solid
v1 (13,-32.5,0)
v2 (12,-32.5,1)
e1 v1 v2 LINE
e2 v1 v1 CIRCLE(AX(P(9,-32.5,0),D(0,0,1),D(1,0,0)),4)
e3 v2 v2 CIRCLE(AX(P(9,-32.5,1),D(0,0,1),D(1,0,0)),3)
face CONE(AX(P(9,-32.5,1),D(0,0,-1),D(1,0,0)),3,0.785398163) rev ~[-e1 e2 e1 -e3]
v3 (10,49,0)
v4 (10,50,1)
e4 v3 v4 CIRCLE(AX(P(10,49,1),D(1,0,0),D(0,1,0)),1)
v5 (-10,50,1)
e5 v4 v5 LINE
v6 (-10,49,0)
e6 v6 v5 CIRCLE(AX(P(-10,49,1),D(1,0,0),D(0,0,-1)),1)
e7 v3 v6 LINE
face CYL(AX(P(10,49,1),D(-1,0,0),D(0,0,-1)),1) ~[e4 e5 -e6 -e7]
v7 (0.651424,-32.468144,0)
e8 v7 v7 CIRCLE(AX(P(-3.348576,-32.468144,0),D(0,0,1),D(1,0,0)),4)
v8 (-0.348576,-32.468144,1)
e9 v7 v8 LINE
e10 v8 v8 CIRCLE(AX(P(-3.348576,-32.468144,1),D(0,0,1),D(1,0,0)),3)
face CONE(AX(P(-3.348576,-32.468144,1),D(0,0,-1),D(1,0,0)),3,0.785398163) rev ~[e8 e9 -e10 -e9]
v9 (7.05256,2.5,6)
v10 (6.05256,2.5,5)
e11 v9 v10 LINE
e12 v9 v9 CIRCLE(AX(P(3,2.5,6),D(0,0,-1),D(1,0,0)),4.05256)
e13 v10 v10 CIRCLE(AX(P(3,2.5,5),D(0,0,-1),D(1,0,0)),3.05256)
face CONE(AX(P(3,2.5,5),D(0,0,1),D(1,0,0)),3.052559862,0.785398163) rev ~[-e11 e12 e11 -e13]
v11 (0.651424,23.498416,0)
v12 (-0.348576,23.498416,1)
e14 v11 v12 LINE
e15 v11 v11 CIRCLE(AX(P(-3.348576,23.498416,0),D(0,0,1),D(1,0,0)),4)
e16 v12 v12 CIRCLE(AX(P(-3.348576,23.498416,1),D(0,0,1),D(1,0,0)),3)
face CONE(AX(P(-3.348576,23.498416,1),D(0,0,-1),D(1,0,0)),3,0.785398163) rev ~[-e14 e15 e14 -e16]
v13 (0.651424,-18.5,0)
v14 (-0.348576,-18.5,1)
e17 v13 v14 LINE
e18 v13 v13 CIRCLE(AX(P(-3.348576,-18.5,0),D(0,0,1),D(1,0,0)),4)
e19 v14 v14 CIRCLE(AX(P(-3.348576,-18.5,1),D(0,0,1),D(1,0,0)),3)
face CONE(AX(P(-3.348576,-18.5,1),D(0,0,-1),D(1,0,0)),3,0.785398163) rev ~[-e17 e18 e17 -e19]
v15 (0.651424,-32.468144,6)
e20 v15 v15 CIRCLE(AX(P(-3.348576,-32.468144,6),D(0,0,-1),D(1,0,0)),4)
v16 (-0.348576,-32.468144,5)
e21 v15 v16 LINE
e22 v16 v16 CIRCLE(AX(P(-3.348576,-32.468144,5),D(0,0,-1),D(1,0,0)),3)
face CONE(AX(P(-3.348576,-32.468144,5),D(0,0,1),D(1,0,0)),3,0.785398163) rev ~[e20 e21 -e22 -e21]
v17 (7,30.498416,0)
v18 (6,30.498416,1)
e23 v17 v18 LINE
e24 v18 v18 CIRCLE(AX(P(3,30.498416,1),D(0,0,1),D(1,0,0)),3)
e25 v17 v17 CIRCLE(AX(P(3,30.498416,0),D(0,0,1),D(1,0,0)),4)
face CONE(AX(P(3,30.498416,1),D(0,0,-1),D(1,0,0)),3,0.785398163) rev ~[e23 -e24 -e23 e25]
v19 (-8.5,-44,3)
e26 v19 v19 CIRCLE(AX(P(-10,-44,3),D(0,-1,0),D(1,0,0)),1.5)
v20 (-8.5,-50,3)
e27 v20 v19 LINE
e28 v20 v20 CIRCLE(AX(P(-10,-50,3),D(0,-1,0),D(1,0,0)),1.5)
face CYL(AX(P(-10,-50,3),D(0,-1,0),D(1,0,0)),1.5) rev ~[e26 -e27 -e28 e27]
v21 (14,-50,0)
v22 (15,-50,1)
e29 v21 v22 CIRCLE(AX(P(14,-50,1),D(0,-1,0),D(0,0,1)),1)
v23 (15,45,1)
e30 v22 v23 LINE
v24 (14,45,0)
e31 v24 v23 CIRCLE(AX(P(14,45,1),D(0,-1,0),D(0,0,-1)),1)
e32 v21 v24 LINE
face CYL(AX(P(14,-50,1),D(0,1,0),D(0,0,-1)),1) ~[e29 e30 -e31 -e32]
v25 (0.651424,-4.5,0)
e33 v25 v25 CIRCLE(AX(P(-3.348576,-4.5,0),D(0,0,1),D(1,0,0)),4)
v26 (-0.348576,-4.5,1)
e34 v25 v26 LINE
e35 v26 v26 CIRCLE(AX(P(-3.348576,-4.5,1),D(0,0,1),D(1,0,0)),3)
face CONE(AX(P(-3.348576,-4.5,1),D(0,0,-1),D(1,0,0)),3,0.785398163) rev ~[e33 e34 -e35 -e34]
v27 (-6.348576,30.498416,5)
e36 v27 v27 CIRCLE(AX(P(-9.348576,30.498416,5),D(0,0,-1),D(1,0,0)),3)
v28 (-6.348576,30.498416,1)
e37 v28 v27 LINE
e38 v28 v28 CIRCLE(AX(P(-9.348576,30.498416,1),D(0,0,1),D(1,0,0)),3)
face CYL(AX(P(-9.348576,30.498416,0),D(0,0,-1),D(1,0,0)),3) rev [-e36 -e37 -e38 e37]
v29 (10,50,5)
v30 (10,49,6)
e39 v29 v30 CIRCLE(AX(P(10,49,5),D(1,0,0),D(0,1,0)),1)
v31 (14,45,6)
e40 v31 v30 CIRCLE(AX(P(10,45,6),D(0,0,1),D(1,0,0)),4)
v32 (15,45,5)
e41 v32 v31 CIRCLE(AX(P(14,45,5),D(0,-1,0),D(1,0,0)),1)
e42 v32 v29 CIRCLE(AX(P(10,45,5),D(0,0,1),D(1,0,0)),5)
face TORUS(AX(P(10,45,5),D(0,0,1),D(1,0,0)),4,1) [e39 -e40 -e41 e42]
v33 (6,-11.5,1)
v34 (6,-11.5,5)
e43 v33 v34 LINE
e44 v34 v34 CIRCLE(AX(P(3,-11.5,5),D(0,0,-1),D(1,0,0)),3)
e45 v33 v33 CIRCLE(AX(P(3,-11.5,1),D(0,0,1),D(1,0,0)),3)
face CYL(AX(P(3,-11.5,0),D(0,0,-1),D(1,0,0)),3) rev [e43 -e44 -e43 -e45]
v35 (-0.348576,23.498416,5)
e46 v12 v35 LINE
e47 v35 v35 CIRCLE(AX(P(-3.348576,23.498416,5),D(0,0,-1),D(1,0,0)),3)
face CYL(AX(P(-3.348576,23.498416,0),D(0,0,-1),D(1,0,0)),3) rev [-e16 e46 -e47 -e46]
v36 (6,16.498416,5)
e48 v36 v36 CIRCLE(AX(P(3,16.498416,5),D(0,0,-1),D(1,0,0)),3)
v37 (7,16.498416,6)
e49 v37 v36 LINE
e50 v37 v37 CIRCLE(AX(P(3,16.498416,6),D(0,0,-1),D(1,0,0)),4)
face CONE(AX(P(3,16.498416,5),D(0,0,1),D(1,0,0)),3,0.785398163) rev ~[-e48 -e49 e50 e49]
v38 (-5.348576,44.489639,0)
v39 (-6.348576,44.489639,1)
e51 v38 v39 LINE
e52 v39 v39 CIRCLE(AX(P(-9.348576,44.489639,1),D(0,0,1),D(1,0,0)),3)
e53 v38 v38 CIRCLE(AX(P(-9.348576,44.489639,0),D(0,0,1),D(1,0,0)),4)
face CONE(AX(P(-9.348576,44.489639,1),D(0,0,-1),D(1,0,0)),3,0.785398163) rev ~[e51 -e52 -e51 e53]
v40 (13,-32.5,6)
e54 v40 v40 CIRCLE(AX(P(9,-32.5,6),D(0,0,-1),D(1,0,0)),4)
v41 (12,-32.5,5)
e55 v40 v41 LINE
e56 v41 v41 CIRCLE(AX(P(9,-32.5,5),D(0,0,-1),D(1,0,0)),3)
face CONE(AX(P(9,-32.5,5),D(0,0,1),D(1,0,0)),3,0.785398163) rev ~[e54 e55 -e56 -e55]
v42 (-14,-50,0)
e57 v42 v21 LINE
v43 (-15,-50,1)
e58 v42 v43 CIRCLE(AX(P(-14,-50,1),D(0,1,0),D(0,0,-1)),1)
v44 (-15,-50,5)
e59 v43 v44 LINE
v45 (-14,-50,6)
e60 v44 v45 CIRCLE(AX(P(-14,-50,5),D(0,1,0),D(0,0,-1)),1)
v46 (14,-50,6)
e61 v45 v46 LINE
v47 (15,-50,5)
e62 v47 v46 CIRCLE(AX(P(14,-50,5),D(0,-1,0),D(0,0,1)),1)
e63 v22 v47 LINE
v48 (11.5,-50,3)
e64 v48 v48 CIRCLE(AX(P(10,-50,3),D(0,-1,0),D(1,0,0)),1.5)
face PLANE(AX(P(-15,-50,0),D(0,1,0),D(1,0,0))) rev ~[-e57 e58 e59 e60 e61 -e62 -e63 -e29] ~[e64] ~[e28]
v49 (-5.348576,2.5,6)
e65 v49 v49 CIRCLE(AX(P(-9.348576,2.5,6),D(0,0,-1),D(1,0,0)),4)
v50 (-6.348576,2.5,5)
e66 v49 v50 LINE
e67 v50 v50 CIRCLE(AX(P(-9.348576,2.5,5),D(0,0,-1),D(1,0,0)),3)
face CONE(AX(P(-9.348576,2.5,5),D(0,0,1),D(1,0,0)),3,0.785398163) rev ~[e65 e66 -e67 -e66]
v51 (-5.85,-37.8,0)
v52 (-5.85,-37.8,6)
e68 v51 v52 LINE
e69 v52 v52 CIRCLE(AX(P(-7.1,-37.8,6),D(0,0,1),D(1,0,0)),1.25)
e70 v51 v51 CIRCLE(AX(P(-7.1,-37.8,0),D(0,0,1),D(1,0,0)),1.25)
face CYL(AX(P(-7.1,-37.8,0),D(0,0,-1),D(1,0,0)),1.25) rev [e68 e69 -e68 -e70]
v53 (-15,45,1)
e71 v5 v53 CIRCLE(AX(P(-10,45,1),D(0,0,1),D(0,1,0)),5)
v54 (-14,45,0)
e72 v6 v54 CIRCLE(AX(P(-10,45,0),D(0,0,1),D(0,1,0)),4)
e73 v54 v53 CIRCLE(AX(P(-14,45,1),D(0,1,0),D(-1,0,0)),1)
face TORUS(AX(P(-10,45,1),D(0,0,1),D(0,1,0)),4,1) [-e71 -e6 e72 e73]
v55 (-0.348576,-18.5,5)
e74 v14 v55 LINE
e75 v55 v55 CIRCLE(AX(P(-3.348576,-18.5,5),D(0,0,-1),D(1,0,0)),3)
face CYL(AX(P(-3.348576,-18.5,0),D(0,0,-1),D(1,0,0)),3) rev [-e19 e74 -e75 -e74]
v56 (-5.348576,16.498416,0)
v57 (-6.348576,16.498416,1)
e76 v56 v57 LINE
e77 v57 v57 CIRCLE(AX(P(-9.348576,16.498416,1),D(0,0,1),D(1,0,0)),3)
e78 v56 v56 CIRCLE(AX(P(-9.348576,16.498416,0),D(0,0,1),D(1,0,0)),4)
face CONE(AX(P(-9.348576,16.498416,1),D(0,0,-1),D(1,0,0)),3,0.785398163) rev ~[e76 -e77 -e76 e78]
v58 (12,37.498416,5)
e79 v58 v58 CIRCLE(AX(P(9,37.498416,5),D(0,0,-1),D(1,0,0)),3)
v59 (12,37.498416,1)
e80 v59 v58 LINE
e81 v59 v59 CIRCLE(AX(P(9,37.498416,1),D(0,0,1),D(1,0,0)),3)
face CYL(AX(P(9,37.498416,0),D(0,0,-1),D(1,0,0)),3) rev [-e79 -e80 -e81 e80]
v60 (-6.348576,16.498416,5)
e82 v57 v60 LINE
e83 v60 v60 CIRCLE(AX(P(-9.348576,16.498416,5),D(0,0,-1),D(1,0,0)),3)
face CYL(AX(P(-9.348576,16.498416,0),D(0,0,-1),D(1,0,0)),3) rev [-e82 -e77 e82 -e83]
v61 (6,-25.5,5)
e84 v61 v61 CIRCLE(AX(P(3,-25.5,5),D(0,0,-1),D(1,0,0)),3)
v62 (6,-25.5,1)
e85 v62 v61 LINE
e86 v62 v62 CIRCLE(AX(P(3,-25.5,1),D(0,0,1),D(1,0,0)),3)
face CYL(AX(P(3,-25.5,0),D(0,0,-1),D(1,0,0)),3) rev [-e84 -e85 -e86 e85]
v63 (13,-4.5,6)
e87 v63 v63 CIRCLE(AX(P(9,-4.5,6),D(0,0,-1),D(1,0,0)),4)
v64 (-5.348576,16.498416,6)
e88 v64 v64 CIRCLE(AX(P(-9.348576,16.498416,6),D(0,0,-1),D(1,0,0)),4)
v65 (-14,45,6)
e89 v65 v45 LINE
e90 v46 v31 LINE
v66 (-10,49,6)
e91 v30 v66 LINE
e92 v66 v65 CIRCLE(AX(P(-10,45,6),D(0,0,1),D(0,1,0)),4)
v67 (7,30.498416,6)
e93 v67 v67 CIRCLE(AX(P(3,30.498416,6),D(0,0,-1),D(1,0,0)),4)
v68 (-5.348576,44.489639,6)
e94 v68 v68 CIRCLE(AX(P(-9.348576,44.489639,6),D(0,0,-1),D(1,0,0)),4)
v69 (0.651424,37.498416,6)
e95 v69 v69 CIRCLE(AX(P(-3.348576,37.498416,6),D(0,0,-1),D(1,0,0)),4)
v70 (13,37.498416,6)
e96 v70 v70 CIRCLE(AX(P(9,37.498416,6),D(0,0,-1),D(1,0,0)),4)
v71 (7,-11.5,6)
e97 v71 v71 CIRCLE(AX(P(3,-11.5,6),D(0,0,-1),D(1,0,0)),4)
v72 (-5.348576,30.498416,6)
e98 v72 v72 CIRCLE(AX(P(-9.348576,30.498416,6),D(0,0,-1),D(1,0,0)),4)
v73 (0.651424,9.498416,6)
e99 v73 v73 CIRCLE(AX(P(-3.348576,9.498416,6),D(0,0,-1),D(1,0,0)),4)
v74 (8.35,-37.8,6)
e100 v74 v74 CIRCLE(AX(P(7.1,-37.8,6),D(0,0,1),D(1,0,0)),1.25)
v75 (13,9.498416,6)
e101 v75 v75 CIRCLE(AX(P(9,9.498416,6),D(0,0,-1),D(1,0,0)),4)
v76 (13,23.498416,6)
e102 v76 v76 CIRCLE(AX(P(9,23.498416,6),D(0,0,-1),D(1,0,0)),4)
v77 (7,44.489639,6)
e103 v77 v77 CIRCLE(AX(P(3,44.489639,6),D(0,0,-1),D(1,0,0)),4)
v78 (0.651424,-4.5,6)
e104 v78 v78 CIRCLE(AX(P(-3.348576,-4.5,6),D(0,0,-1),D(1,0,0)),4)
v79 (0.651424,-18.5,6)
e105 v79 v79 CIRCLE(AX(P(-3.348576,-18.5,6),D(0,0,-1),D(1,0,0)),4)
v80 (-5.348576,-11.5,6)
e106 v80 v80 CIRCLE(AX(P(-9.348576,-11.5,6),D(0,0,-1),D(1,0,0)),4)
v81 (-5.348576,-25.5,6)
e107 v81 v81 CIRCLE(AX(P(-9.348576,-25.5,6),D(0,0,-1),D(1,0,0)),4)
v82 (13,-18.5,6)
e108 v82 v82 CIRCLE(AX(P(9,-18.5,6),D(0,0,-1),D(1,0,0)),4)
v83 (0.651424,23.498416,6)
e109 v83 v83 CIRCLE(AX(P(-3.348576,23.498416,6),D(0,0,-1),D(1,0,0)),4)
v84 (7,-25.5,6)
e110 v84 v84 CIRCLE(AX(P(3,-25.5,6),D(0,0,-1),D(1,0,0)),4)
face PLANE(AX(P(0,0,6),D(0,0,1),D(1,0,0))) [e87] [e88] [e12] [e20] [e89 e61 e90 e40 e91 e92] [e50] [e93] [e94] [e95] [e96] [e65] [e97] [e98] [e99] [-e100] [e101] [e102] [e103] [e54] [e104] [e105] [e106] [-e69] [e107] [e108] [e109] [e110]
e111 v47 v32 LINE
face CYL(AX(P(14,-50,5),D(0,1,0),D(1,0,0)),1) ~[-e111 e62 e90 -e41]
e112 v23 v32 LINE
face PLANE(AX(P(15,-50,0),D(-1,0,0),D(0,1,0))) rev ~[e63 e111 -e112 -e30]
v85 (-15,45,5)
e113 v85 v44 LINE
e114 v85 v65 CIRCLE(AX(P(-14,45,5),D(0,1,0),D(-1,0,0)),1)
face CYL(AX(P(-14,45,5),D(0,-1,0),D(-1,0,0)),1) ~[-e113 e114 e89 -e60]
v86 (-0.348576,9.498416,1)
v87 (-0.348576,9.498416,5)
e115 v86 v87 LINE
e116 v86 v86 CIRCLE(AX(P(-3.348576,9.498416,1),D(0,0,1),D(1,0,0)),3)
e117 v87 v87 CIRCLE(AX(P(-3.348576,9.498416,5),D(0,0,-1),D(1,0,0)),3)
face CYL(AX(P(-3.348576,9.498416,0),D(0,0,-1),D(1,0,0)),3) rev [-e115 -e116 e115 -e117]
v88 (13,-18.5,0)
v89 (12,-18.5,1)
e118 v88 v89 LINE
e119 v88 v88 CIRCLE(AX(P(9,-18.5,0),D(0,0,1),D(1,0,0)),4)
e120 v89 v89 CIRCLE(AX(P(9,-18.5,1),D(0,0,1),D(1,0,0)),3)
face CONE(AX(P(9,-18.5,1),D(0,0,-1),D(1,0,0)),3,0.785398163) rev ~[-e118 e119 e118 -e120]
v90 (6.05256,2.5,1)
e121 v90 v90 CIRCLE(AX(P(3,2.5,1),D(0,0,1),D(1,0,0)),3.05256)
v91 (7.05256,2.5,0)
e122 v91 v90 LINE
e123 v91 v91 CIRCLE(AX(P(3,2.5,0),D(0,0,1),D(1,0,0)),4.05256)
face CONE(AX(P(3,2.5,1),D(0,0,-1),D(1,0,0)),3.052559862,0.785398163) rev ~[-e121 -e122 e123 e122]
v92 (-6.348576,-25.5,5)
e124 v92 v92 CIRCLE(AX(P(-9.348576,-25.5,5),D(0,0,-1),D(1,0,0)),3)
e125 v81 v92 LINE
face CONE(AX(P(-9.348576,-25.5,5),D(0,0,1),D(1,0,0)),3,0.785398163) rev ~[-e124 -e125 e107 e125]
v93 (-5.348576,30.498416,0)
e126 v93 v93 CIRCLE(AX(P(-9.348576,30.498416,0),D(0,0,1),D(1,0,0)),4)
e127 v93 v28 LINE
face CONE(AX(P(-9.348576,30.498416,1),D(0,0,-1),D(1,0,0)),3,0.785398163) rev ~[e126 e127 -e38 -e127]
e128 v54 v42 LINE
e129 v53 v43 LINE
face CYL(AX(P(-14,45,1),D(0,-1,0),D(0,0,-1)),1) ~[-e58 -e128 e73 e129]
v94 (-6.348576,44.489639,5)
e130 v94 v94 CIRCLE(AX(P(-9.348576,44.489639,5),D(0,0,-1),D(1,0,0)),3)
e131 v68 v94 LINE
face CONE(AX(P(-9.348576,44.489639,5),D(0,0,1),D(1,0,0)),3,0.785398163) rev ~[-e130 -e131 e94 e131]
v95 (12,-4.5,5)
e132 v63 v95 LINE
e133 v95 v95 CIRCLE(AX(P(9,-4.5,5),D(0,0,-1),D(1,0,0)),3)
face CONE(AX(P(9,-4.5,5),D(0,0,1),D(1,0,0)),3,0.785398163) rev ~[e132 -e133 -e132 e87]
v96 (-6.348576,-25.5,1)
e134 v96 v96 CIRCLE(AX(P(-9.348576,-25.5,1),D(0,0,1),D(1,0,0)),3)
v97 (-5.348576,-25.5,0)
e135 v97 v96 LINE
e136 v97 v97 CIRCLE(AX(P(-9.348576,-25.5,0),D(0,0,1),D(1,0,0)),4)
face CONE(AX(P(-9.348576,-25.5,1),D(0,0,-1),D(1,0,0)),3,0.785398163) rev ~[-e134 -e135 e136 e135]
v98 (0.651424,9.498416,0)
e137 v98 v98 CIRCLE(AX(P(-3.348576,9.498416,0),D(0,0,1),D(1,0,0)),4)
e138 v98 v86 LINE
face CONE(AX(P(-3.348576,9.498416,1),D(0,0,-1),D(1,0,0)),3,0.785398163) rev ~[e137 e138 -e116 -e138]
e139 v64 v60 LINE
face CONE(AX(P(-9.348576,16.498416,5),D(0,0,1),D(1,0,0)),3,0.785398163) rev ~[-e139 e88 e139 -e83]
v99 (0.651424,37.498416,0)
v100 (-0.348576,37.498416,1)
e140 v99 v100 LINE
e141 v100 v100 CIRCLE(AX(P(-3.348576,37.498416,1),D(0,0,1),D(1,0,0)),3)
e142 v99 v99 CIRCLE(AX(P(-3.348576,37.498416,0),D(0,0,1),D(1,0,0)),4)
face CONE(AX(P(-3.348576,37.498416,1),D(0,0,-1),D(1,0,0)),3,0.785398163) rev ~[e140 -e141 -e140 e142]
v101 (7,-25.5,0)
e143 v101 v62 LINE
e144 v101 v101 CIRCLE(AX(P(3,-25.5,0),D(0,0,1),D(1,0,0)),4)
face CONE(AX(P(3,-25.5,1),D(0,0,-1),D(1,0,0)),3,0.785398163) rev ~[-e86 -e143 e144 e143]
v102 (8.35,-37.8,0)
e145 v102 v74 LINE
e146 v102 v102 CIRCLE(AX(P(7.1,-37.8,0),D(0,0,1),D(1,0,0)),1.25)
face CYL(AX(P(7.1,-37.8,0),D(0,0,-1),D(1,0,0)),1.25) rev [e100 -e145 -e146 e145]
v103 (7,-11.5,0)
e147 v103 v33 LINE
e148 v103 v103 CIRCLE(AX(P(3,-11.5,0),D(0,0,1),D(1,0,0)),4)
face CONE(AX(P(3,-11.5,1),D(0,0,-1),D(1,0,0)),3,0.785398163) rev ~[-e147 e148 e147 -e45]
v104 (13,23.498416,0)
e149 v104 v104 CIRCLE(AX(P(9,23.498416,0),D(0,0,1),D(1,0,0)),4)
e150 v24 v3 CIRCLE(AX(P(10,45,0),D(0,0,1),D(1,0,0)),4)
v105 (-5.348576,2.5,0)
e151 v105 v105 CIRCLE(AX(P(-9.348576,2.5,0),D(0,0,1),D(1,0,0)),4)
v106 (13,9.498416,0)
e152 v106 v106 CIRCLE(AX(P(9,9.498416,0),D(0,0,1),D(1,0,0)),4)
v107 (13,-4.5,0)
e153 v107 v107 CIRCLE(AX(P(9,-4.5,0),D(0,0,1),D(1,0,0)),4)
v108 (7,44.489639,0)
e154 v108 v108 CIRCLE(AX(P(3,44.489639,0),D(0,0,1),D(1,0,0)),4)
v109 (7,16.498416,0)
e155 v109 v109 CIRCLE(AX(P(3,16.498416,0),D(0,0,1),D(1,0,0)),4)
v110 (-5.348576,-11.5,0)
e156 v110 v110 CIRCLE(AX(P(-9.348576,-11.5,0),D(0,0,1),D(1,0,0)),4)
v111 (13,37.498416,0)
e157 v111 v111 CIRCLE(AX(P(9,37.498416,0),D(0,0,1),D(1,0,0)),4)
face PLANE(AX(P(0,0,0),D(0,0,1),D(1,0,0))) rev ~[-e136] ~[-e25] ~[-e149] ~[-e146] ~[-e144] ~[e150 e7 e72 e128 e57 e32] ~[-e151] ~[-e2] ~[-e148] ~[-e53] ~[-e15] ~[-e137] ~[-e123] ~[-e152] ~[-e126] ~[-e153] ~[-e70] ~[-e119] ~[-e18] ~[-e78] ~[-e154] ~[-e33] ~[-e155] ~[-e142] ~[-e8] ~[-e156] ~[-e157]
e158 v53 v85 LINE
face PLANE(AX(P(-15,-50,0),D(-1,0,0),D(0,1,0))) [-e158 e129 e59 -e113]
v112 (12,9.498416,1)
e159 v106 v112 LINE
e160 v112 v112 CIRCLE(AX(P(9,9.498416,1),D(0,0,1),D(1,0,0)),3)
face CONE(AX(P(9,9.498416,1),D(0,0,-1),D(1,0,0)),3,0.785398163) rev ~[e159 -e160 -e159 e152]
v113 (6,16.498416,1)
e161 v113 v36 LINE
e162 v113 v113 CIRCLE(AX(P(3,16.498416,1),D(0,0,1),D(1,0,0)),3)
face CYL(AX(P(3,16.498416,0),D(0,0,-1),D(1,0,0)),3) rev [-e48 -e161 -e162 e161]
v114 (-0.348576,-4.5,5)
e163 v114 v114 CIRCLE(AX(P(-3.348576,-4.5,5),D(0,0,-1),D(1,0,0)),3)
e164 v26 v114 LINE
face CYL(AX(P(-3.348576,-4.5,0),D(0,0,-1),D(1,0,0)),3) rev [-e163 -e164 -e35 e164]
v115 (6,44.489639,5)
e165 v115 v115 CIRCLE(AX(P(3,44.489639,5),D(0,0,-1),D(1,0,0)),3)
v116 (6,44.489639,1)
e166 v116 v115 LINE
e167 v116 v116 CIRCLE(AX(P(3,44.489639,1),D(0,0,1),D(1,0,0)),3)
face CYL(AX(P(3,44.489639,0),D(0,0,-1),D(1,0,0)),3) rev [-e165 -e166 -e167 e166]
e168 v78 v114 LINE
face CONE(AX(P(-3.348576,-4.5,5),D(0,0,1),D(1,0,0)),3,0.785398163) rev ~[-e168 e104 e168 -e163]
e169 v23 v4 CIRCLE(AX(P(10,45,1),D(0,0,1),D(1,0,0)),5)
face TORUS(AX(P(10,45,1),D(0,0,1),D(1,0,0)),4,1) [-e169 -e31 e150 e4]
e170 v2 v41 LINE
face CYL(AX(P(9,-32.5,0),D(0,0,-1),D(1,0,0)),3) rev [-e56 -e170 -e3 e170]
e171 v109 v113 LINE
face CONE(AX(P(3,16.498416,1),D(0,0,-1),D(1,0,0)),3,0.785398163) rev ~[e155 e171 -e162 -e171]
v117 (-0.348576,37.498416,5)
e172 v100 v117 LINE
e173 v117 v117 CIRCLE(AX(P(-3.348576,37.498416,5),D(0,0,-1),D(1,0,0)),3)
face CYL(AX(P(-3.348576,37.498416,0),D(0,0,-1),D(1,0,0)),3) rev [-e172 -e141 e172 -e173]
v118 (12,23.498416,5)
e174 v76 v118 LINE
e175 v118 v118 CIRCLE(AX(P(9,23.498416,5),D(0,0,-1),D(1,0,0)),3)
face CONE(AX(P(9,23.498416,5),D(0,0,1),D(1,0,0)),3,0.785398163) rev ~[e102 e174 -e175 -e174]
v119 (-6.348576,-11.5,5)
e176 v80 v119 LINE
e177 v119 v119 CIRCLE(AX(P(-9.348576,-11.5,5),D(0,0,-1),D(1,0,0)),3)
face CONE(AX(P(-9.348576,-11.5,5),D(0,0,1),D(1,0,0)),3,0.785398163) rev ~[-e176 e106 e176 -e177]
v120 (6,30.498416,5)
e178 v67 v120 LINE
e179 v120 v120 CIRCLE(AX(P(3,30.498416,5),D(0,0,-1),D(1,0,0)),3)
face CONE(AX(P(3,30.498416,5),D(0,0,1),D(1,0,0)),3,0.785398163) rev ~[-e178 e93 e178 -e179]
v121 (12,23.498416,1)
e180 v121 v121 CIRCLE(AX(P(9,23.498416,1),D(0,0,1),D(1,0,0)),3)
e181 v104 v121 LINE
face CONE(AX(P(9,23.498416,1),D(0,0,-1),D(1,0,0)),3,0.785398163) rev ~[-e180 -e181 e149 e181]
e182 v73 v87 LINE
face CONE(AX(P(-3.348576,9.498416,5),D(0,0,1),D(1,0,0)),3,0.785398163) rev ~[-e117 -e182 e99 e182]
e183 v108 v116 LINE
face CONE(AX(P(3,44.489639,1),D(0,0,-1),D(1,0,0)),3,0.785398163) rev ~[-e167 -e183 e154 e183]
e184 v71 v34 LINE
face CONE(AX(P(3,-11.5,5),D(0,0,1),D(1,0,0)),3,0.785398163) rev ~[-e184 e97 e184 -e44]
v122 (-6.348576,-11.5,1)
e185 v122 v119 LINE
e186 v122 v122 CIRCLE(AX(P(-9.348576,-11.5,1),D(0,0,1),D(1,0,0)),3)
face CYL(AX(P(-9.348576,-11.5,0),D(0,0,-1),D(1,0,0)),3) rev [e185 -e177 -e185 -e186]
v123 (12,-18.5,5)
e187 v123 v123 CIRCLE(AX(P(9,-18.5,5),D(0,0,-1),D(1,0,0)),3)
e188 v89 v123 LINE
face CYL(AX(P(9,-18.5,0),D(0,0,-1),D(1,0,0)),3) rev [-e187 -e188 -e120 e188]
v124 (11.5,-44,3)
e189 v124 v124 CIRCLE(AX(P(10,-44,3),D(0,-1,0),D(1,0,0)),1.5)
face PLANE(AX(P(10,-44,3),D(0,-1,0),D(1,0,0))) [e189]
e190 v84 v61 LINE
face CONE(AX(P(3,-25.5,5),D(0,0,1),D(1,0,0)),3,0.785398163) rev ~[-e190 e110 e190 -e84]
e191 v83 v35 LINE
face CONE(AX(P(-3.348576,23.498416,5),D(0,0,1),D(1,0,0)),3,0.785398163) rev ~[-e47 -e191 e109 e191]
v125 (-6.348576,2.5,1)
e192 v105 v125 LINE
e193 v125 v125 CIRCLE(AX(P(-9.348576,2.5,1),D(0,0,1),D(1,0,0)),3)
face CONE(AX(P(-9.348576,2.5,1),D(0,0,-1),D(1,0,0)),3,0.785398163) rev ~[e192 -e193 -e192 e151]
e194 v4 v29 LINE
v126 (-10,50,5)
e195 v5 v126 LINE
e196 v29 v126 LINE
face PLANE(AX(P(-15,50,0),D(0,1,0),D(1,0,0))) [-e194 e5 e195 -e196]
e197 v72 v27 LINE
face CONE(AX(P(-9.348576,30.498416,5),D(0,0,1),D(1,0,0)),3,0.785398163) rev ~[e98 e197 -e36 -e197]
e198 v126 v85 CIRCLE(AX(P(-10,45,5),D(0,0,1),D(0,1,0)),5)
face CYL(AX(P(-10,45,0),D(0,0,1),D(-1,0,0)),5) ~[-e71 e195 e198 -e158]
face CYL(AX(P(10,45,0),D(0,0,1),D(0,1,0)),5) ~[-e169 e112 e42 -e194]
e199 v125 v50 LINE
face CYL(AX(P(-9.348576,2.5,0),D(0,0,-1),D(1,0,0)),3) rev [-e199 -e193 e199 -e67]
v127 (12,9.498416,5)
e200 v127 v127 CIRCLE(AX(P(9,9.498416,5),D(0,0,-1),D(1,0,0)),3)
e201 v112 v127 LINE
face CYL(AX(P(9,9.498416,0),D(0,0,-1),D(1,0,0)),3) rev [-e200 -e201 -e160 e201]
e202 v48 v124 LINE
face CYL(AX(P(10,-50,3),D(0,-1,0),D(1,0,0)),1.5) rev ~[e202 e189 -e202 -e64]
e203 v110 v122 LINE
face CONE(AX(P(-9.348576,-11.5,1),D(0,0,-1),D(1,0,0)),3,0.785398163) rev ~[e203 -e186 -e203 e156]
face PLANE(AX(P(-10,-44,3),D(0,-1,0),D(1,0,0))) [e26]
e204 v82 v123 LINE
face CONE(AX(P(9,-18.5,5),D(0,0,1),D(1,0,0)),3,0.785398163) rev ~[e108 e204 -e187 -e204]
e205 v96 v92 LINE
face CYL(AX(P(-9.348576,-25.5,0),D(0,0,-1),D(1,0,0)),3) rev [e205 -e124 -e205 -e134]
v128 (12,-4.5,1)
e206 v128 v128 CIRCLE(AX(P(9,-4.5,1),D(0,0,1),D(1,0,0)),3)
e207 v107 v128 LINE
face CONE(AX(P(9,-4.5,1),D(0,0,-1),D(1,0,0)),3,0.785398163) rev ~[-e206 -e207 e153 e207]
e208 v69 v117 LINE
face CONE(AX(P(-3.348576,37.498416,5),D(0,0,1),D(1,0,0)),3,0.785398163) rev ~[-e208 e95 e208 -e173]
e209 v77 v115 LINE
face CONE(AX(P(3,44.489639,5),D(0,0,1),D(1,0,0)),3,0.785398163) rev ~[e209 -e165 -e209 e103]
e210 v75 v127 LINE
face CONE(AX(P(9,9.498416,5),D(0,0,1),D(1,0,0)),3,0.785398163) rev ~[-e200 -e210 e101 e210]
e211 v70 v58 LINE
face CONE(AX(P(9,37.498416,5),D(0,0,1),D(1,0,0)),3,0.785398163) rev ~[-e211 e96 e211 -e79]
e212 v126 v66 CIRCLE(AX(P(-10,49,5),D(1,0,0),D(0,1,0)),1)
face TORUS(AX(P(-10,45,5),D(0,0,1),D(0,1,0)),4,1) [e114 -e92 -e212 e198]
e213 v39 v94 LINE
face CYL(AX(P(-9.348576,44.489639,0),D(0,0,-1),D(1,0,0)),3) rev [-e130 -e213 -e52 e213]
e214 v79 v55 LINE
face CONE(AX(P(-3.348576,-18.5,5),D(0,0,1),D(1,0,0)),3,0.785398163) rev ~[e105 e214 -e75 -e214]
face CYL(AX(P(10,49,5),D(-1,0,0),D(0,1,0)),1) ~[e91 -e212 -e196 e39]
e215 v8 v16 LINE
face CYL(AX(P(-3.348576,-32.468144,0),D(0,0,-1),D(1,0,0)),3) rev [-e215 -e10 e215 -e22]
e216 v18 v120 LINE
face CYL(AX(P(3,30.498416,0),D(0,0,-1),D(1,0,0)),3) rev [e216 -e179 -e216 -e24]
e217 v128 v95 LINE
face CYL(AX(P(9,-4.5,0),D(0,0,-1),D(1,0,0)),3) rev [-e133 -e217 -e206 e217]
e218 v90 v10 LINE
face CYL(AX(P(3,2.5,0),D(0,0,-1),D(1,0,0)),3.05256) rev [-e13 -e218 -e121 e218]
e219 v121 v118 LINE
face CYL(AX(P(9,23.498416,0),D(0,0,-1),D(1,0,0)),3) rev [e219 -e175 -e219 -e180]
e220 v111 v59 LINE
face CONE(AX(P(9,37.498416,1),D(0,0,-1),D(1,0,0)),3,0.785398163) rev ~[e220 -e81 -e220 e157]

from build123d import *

# Parameters (mm, degrees)
F0_W     = 30
F0_H     = 100
F0_R     = 1.25
F1_DEPTH = 6
F2_R     = 3
F2_R_2   = 3.0525598616
F3_DEPTH = 6.001
F4_R     = 5
F5_SIZE  = 1
F6_R     = 1
F7_R     = 1.5
F8_DEPTH = 6


with BuildPart() as f1:
    # F0 (on Top) → F1 (new body)
    with BuildSketch(Plane.XY):
        Rectangle(F0_W, F0_H)
        with Locations((-7.1, -37.8)):
            Circle(F0_R, mode=Mode.SUBTRACT)
        with Locations((7.1, -37.8)):
            Circle(F0_R, mode=Mode.SUBTRACT)
    extrude(amount=F1_DEPTH)

    # F2 (on Top) → F3 (cut, through all)
    with BuildSketch(Plane.XY):
        with Locations((-9.3485760093, -25.5)):
            Circle(F2_R)
        with Locations((-3.3485760093, -18.5)):
            Circle(F2_R)
        with Locations((3, -25.5)):
            Circle(F2_R)
        with Locations((9, -18.5)):
            Circle(F2_R)
        with Locations((9, -32.5)):
            Circle(F2_R)
        with Locations((-3.3485760093, -32.4681438506)):
            Circle(F2_R)
        with Locations((-9.3485760093, -11.5)):
            Circle(F2_R)
        with Locations((3, -11.5)):
            Circle(F2_R)
        with Locations((-3.3485760093, -4.5)):
            Circle(F2_R)
        with Locations((3, 2.5)):
            Circle(F2_R_2)
        with Locations((9, 9.498416102)):
            Circle(F2_R)
        with Locations((-3.3485760093, 9.498416102)):
            Circle(F2_R)
        with Locations((-9.3485760093, 16.498416102)):
            Circle(F2_R)
        with Locations((3, 16.498416102)):
            Circle(F2_R)
        with Locations((-3.3485760093, 23.498416102)):
            Circle(F2_R)
        with Locations((-9.3485760093, 30.498416102)):
            Circle(F2_R)
        with Locations((3, 30.498416102)):
            Circle(F2_R)
        with Locations((-3.3485760093, 37.498416102)):
            Circle(F2_R)
        with Locations((-9.3485760093, 44.4896388961)):
            Circle(F2_R)
        with Locations((3, 44.4896388961)):
            Circle(F2_R)
        with Locations((9, -4.5)):
            Circle(F2_R)
        with Locations((9, 23.498416102)):
            Circle(F2_R)
        with Locations((9, 37.498416102)):
            Circle(F2_R)
        with Locations((-9.3485760093, 2.5)):
            Circle(F2_R)
    extrude(amount=F3_DEPTH, mode=Mode.SUBTRACT)

    # F4
    f4_edges = [f1.edges().sort_by_distance(p)[0] for p in [
        (15, 50, 3),
        (-15, 50, 3),
    ]]
    fillet(f4_edges, radius=F4_R)

    # F5
    f5_edges = [f1.edges().sort_by_distance(p)[0] for p in [
        (-6.348576, -32.468144, 6),
        (-12.348576, -25.5, 6),
        (-6.348576, -18.5, 6),
        (0, -25.5, 6),
        (6, -32.5, 6),
        (6, -18.5, 6),
        (0, -11.5, 6),
        (-12.348576, -11.5, 6),
        (-6.348576, -4.5, 6),
        (-12.348576, 2.5, 6),
        (-0.05256, 2.5, 6),
        (6, -4.5, 6),
        (6, 9.498416, 6),
        (-6.348576, 9.498416, 6),
        (-12.348576, 16.498416, 6),
        (-6.348576, 23.498416, 6),
        (0, 16.498416, 6),
        (6, 23.498416, 6),
        (0, 30.498416, 6),
        (6, 37.498416, 6),
        (0, 44.489639, 6),
        (-6.348576, 37.498416, 6),
        (-12.348576, 44.489639, 6),
        (-12.348576, 30.498416, 6),
        (6, -32.5, 0),
        (-6.348576, -32.468144, 0),
        (-12.348576, -25.5, 0),
        (0, -25.5, 0),
        (6, -18.5, 0),
        (-6.348576, -18.5, 0),
        (-12.348576, -11.5, 0),
        (0, -11.5, 0),
        (6, -4.5, 0),
        (-6.348576, -4.5, 0),
        (-0.05256, 2.5, 0),
        (-12.348576, 2.5, 0),
        (-6.348576, 9.498416, 0),
        (6, 9.498416, 0),
        (0, 16.498416, 0),
        (-12.348576, 16.498416, 0),
        (6, 23.498416, 0),
        (-6.348576, 23.498416, 0),
        (-12.348576, 30.498416, 0),
        (0, 30.498416, 0),
        (6, 37.498416, 0),
        (-6.348576, 37.498416, 0),
        (0, 44.489639, 0),
        (-12.348576, 44.489639, 0),
    ]]
    chamfer(f5_edges, length=F5_SIZE)

    # F6
    f6_edges = [f1.edges().sort_by_distance(p)[0] for p in [
        (15, -2.5, 6),
        (15, -2.5, 0),
        (13.535534, 48.535534, 0),
    ]]
    fillet(f6_edges, radius=F6_R)

    # F7 (on face) → F8 (cut)
    with BuildSketch(Plane.XZ.offset(50)):
        with Locations((-10, 3)):
            Circle(F7_R)
        with Locations((10, 3)):
            Circle(F7_R)
    extrude(amount=-F8_DEPTH, mode=Mode.SUBTRACT)


solid = f1.part
